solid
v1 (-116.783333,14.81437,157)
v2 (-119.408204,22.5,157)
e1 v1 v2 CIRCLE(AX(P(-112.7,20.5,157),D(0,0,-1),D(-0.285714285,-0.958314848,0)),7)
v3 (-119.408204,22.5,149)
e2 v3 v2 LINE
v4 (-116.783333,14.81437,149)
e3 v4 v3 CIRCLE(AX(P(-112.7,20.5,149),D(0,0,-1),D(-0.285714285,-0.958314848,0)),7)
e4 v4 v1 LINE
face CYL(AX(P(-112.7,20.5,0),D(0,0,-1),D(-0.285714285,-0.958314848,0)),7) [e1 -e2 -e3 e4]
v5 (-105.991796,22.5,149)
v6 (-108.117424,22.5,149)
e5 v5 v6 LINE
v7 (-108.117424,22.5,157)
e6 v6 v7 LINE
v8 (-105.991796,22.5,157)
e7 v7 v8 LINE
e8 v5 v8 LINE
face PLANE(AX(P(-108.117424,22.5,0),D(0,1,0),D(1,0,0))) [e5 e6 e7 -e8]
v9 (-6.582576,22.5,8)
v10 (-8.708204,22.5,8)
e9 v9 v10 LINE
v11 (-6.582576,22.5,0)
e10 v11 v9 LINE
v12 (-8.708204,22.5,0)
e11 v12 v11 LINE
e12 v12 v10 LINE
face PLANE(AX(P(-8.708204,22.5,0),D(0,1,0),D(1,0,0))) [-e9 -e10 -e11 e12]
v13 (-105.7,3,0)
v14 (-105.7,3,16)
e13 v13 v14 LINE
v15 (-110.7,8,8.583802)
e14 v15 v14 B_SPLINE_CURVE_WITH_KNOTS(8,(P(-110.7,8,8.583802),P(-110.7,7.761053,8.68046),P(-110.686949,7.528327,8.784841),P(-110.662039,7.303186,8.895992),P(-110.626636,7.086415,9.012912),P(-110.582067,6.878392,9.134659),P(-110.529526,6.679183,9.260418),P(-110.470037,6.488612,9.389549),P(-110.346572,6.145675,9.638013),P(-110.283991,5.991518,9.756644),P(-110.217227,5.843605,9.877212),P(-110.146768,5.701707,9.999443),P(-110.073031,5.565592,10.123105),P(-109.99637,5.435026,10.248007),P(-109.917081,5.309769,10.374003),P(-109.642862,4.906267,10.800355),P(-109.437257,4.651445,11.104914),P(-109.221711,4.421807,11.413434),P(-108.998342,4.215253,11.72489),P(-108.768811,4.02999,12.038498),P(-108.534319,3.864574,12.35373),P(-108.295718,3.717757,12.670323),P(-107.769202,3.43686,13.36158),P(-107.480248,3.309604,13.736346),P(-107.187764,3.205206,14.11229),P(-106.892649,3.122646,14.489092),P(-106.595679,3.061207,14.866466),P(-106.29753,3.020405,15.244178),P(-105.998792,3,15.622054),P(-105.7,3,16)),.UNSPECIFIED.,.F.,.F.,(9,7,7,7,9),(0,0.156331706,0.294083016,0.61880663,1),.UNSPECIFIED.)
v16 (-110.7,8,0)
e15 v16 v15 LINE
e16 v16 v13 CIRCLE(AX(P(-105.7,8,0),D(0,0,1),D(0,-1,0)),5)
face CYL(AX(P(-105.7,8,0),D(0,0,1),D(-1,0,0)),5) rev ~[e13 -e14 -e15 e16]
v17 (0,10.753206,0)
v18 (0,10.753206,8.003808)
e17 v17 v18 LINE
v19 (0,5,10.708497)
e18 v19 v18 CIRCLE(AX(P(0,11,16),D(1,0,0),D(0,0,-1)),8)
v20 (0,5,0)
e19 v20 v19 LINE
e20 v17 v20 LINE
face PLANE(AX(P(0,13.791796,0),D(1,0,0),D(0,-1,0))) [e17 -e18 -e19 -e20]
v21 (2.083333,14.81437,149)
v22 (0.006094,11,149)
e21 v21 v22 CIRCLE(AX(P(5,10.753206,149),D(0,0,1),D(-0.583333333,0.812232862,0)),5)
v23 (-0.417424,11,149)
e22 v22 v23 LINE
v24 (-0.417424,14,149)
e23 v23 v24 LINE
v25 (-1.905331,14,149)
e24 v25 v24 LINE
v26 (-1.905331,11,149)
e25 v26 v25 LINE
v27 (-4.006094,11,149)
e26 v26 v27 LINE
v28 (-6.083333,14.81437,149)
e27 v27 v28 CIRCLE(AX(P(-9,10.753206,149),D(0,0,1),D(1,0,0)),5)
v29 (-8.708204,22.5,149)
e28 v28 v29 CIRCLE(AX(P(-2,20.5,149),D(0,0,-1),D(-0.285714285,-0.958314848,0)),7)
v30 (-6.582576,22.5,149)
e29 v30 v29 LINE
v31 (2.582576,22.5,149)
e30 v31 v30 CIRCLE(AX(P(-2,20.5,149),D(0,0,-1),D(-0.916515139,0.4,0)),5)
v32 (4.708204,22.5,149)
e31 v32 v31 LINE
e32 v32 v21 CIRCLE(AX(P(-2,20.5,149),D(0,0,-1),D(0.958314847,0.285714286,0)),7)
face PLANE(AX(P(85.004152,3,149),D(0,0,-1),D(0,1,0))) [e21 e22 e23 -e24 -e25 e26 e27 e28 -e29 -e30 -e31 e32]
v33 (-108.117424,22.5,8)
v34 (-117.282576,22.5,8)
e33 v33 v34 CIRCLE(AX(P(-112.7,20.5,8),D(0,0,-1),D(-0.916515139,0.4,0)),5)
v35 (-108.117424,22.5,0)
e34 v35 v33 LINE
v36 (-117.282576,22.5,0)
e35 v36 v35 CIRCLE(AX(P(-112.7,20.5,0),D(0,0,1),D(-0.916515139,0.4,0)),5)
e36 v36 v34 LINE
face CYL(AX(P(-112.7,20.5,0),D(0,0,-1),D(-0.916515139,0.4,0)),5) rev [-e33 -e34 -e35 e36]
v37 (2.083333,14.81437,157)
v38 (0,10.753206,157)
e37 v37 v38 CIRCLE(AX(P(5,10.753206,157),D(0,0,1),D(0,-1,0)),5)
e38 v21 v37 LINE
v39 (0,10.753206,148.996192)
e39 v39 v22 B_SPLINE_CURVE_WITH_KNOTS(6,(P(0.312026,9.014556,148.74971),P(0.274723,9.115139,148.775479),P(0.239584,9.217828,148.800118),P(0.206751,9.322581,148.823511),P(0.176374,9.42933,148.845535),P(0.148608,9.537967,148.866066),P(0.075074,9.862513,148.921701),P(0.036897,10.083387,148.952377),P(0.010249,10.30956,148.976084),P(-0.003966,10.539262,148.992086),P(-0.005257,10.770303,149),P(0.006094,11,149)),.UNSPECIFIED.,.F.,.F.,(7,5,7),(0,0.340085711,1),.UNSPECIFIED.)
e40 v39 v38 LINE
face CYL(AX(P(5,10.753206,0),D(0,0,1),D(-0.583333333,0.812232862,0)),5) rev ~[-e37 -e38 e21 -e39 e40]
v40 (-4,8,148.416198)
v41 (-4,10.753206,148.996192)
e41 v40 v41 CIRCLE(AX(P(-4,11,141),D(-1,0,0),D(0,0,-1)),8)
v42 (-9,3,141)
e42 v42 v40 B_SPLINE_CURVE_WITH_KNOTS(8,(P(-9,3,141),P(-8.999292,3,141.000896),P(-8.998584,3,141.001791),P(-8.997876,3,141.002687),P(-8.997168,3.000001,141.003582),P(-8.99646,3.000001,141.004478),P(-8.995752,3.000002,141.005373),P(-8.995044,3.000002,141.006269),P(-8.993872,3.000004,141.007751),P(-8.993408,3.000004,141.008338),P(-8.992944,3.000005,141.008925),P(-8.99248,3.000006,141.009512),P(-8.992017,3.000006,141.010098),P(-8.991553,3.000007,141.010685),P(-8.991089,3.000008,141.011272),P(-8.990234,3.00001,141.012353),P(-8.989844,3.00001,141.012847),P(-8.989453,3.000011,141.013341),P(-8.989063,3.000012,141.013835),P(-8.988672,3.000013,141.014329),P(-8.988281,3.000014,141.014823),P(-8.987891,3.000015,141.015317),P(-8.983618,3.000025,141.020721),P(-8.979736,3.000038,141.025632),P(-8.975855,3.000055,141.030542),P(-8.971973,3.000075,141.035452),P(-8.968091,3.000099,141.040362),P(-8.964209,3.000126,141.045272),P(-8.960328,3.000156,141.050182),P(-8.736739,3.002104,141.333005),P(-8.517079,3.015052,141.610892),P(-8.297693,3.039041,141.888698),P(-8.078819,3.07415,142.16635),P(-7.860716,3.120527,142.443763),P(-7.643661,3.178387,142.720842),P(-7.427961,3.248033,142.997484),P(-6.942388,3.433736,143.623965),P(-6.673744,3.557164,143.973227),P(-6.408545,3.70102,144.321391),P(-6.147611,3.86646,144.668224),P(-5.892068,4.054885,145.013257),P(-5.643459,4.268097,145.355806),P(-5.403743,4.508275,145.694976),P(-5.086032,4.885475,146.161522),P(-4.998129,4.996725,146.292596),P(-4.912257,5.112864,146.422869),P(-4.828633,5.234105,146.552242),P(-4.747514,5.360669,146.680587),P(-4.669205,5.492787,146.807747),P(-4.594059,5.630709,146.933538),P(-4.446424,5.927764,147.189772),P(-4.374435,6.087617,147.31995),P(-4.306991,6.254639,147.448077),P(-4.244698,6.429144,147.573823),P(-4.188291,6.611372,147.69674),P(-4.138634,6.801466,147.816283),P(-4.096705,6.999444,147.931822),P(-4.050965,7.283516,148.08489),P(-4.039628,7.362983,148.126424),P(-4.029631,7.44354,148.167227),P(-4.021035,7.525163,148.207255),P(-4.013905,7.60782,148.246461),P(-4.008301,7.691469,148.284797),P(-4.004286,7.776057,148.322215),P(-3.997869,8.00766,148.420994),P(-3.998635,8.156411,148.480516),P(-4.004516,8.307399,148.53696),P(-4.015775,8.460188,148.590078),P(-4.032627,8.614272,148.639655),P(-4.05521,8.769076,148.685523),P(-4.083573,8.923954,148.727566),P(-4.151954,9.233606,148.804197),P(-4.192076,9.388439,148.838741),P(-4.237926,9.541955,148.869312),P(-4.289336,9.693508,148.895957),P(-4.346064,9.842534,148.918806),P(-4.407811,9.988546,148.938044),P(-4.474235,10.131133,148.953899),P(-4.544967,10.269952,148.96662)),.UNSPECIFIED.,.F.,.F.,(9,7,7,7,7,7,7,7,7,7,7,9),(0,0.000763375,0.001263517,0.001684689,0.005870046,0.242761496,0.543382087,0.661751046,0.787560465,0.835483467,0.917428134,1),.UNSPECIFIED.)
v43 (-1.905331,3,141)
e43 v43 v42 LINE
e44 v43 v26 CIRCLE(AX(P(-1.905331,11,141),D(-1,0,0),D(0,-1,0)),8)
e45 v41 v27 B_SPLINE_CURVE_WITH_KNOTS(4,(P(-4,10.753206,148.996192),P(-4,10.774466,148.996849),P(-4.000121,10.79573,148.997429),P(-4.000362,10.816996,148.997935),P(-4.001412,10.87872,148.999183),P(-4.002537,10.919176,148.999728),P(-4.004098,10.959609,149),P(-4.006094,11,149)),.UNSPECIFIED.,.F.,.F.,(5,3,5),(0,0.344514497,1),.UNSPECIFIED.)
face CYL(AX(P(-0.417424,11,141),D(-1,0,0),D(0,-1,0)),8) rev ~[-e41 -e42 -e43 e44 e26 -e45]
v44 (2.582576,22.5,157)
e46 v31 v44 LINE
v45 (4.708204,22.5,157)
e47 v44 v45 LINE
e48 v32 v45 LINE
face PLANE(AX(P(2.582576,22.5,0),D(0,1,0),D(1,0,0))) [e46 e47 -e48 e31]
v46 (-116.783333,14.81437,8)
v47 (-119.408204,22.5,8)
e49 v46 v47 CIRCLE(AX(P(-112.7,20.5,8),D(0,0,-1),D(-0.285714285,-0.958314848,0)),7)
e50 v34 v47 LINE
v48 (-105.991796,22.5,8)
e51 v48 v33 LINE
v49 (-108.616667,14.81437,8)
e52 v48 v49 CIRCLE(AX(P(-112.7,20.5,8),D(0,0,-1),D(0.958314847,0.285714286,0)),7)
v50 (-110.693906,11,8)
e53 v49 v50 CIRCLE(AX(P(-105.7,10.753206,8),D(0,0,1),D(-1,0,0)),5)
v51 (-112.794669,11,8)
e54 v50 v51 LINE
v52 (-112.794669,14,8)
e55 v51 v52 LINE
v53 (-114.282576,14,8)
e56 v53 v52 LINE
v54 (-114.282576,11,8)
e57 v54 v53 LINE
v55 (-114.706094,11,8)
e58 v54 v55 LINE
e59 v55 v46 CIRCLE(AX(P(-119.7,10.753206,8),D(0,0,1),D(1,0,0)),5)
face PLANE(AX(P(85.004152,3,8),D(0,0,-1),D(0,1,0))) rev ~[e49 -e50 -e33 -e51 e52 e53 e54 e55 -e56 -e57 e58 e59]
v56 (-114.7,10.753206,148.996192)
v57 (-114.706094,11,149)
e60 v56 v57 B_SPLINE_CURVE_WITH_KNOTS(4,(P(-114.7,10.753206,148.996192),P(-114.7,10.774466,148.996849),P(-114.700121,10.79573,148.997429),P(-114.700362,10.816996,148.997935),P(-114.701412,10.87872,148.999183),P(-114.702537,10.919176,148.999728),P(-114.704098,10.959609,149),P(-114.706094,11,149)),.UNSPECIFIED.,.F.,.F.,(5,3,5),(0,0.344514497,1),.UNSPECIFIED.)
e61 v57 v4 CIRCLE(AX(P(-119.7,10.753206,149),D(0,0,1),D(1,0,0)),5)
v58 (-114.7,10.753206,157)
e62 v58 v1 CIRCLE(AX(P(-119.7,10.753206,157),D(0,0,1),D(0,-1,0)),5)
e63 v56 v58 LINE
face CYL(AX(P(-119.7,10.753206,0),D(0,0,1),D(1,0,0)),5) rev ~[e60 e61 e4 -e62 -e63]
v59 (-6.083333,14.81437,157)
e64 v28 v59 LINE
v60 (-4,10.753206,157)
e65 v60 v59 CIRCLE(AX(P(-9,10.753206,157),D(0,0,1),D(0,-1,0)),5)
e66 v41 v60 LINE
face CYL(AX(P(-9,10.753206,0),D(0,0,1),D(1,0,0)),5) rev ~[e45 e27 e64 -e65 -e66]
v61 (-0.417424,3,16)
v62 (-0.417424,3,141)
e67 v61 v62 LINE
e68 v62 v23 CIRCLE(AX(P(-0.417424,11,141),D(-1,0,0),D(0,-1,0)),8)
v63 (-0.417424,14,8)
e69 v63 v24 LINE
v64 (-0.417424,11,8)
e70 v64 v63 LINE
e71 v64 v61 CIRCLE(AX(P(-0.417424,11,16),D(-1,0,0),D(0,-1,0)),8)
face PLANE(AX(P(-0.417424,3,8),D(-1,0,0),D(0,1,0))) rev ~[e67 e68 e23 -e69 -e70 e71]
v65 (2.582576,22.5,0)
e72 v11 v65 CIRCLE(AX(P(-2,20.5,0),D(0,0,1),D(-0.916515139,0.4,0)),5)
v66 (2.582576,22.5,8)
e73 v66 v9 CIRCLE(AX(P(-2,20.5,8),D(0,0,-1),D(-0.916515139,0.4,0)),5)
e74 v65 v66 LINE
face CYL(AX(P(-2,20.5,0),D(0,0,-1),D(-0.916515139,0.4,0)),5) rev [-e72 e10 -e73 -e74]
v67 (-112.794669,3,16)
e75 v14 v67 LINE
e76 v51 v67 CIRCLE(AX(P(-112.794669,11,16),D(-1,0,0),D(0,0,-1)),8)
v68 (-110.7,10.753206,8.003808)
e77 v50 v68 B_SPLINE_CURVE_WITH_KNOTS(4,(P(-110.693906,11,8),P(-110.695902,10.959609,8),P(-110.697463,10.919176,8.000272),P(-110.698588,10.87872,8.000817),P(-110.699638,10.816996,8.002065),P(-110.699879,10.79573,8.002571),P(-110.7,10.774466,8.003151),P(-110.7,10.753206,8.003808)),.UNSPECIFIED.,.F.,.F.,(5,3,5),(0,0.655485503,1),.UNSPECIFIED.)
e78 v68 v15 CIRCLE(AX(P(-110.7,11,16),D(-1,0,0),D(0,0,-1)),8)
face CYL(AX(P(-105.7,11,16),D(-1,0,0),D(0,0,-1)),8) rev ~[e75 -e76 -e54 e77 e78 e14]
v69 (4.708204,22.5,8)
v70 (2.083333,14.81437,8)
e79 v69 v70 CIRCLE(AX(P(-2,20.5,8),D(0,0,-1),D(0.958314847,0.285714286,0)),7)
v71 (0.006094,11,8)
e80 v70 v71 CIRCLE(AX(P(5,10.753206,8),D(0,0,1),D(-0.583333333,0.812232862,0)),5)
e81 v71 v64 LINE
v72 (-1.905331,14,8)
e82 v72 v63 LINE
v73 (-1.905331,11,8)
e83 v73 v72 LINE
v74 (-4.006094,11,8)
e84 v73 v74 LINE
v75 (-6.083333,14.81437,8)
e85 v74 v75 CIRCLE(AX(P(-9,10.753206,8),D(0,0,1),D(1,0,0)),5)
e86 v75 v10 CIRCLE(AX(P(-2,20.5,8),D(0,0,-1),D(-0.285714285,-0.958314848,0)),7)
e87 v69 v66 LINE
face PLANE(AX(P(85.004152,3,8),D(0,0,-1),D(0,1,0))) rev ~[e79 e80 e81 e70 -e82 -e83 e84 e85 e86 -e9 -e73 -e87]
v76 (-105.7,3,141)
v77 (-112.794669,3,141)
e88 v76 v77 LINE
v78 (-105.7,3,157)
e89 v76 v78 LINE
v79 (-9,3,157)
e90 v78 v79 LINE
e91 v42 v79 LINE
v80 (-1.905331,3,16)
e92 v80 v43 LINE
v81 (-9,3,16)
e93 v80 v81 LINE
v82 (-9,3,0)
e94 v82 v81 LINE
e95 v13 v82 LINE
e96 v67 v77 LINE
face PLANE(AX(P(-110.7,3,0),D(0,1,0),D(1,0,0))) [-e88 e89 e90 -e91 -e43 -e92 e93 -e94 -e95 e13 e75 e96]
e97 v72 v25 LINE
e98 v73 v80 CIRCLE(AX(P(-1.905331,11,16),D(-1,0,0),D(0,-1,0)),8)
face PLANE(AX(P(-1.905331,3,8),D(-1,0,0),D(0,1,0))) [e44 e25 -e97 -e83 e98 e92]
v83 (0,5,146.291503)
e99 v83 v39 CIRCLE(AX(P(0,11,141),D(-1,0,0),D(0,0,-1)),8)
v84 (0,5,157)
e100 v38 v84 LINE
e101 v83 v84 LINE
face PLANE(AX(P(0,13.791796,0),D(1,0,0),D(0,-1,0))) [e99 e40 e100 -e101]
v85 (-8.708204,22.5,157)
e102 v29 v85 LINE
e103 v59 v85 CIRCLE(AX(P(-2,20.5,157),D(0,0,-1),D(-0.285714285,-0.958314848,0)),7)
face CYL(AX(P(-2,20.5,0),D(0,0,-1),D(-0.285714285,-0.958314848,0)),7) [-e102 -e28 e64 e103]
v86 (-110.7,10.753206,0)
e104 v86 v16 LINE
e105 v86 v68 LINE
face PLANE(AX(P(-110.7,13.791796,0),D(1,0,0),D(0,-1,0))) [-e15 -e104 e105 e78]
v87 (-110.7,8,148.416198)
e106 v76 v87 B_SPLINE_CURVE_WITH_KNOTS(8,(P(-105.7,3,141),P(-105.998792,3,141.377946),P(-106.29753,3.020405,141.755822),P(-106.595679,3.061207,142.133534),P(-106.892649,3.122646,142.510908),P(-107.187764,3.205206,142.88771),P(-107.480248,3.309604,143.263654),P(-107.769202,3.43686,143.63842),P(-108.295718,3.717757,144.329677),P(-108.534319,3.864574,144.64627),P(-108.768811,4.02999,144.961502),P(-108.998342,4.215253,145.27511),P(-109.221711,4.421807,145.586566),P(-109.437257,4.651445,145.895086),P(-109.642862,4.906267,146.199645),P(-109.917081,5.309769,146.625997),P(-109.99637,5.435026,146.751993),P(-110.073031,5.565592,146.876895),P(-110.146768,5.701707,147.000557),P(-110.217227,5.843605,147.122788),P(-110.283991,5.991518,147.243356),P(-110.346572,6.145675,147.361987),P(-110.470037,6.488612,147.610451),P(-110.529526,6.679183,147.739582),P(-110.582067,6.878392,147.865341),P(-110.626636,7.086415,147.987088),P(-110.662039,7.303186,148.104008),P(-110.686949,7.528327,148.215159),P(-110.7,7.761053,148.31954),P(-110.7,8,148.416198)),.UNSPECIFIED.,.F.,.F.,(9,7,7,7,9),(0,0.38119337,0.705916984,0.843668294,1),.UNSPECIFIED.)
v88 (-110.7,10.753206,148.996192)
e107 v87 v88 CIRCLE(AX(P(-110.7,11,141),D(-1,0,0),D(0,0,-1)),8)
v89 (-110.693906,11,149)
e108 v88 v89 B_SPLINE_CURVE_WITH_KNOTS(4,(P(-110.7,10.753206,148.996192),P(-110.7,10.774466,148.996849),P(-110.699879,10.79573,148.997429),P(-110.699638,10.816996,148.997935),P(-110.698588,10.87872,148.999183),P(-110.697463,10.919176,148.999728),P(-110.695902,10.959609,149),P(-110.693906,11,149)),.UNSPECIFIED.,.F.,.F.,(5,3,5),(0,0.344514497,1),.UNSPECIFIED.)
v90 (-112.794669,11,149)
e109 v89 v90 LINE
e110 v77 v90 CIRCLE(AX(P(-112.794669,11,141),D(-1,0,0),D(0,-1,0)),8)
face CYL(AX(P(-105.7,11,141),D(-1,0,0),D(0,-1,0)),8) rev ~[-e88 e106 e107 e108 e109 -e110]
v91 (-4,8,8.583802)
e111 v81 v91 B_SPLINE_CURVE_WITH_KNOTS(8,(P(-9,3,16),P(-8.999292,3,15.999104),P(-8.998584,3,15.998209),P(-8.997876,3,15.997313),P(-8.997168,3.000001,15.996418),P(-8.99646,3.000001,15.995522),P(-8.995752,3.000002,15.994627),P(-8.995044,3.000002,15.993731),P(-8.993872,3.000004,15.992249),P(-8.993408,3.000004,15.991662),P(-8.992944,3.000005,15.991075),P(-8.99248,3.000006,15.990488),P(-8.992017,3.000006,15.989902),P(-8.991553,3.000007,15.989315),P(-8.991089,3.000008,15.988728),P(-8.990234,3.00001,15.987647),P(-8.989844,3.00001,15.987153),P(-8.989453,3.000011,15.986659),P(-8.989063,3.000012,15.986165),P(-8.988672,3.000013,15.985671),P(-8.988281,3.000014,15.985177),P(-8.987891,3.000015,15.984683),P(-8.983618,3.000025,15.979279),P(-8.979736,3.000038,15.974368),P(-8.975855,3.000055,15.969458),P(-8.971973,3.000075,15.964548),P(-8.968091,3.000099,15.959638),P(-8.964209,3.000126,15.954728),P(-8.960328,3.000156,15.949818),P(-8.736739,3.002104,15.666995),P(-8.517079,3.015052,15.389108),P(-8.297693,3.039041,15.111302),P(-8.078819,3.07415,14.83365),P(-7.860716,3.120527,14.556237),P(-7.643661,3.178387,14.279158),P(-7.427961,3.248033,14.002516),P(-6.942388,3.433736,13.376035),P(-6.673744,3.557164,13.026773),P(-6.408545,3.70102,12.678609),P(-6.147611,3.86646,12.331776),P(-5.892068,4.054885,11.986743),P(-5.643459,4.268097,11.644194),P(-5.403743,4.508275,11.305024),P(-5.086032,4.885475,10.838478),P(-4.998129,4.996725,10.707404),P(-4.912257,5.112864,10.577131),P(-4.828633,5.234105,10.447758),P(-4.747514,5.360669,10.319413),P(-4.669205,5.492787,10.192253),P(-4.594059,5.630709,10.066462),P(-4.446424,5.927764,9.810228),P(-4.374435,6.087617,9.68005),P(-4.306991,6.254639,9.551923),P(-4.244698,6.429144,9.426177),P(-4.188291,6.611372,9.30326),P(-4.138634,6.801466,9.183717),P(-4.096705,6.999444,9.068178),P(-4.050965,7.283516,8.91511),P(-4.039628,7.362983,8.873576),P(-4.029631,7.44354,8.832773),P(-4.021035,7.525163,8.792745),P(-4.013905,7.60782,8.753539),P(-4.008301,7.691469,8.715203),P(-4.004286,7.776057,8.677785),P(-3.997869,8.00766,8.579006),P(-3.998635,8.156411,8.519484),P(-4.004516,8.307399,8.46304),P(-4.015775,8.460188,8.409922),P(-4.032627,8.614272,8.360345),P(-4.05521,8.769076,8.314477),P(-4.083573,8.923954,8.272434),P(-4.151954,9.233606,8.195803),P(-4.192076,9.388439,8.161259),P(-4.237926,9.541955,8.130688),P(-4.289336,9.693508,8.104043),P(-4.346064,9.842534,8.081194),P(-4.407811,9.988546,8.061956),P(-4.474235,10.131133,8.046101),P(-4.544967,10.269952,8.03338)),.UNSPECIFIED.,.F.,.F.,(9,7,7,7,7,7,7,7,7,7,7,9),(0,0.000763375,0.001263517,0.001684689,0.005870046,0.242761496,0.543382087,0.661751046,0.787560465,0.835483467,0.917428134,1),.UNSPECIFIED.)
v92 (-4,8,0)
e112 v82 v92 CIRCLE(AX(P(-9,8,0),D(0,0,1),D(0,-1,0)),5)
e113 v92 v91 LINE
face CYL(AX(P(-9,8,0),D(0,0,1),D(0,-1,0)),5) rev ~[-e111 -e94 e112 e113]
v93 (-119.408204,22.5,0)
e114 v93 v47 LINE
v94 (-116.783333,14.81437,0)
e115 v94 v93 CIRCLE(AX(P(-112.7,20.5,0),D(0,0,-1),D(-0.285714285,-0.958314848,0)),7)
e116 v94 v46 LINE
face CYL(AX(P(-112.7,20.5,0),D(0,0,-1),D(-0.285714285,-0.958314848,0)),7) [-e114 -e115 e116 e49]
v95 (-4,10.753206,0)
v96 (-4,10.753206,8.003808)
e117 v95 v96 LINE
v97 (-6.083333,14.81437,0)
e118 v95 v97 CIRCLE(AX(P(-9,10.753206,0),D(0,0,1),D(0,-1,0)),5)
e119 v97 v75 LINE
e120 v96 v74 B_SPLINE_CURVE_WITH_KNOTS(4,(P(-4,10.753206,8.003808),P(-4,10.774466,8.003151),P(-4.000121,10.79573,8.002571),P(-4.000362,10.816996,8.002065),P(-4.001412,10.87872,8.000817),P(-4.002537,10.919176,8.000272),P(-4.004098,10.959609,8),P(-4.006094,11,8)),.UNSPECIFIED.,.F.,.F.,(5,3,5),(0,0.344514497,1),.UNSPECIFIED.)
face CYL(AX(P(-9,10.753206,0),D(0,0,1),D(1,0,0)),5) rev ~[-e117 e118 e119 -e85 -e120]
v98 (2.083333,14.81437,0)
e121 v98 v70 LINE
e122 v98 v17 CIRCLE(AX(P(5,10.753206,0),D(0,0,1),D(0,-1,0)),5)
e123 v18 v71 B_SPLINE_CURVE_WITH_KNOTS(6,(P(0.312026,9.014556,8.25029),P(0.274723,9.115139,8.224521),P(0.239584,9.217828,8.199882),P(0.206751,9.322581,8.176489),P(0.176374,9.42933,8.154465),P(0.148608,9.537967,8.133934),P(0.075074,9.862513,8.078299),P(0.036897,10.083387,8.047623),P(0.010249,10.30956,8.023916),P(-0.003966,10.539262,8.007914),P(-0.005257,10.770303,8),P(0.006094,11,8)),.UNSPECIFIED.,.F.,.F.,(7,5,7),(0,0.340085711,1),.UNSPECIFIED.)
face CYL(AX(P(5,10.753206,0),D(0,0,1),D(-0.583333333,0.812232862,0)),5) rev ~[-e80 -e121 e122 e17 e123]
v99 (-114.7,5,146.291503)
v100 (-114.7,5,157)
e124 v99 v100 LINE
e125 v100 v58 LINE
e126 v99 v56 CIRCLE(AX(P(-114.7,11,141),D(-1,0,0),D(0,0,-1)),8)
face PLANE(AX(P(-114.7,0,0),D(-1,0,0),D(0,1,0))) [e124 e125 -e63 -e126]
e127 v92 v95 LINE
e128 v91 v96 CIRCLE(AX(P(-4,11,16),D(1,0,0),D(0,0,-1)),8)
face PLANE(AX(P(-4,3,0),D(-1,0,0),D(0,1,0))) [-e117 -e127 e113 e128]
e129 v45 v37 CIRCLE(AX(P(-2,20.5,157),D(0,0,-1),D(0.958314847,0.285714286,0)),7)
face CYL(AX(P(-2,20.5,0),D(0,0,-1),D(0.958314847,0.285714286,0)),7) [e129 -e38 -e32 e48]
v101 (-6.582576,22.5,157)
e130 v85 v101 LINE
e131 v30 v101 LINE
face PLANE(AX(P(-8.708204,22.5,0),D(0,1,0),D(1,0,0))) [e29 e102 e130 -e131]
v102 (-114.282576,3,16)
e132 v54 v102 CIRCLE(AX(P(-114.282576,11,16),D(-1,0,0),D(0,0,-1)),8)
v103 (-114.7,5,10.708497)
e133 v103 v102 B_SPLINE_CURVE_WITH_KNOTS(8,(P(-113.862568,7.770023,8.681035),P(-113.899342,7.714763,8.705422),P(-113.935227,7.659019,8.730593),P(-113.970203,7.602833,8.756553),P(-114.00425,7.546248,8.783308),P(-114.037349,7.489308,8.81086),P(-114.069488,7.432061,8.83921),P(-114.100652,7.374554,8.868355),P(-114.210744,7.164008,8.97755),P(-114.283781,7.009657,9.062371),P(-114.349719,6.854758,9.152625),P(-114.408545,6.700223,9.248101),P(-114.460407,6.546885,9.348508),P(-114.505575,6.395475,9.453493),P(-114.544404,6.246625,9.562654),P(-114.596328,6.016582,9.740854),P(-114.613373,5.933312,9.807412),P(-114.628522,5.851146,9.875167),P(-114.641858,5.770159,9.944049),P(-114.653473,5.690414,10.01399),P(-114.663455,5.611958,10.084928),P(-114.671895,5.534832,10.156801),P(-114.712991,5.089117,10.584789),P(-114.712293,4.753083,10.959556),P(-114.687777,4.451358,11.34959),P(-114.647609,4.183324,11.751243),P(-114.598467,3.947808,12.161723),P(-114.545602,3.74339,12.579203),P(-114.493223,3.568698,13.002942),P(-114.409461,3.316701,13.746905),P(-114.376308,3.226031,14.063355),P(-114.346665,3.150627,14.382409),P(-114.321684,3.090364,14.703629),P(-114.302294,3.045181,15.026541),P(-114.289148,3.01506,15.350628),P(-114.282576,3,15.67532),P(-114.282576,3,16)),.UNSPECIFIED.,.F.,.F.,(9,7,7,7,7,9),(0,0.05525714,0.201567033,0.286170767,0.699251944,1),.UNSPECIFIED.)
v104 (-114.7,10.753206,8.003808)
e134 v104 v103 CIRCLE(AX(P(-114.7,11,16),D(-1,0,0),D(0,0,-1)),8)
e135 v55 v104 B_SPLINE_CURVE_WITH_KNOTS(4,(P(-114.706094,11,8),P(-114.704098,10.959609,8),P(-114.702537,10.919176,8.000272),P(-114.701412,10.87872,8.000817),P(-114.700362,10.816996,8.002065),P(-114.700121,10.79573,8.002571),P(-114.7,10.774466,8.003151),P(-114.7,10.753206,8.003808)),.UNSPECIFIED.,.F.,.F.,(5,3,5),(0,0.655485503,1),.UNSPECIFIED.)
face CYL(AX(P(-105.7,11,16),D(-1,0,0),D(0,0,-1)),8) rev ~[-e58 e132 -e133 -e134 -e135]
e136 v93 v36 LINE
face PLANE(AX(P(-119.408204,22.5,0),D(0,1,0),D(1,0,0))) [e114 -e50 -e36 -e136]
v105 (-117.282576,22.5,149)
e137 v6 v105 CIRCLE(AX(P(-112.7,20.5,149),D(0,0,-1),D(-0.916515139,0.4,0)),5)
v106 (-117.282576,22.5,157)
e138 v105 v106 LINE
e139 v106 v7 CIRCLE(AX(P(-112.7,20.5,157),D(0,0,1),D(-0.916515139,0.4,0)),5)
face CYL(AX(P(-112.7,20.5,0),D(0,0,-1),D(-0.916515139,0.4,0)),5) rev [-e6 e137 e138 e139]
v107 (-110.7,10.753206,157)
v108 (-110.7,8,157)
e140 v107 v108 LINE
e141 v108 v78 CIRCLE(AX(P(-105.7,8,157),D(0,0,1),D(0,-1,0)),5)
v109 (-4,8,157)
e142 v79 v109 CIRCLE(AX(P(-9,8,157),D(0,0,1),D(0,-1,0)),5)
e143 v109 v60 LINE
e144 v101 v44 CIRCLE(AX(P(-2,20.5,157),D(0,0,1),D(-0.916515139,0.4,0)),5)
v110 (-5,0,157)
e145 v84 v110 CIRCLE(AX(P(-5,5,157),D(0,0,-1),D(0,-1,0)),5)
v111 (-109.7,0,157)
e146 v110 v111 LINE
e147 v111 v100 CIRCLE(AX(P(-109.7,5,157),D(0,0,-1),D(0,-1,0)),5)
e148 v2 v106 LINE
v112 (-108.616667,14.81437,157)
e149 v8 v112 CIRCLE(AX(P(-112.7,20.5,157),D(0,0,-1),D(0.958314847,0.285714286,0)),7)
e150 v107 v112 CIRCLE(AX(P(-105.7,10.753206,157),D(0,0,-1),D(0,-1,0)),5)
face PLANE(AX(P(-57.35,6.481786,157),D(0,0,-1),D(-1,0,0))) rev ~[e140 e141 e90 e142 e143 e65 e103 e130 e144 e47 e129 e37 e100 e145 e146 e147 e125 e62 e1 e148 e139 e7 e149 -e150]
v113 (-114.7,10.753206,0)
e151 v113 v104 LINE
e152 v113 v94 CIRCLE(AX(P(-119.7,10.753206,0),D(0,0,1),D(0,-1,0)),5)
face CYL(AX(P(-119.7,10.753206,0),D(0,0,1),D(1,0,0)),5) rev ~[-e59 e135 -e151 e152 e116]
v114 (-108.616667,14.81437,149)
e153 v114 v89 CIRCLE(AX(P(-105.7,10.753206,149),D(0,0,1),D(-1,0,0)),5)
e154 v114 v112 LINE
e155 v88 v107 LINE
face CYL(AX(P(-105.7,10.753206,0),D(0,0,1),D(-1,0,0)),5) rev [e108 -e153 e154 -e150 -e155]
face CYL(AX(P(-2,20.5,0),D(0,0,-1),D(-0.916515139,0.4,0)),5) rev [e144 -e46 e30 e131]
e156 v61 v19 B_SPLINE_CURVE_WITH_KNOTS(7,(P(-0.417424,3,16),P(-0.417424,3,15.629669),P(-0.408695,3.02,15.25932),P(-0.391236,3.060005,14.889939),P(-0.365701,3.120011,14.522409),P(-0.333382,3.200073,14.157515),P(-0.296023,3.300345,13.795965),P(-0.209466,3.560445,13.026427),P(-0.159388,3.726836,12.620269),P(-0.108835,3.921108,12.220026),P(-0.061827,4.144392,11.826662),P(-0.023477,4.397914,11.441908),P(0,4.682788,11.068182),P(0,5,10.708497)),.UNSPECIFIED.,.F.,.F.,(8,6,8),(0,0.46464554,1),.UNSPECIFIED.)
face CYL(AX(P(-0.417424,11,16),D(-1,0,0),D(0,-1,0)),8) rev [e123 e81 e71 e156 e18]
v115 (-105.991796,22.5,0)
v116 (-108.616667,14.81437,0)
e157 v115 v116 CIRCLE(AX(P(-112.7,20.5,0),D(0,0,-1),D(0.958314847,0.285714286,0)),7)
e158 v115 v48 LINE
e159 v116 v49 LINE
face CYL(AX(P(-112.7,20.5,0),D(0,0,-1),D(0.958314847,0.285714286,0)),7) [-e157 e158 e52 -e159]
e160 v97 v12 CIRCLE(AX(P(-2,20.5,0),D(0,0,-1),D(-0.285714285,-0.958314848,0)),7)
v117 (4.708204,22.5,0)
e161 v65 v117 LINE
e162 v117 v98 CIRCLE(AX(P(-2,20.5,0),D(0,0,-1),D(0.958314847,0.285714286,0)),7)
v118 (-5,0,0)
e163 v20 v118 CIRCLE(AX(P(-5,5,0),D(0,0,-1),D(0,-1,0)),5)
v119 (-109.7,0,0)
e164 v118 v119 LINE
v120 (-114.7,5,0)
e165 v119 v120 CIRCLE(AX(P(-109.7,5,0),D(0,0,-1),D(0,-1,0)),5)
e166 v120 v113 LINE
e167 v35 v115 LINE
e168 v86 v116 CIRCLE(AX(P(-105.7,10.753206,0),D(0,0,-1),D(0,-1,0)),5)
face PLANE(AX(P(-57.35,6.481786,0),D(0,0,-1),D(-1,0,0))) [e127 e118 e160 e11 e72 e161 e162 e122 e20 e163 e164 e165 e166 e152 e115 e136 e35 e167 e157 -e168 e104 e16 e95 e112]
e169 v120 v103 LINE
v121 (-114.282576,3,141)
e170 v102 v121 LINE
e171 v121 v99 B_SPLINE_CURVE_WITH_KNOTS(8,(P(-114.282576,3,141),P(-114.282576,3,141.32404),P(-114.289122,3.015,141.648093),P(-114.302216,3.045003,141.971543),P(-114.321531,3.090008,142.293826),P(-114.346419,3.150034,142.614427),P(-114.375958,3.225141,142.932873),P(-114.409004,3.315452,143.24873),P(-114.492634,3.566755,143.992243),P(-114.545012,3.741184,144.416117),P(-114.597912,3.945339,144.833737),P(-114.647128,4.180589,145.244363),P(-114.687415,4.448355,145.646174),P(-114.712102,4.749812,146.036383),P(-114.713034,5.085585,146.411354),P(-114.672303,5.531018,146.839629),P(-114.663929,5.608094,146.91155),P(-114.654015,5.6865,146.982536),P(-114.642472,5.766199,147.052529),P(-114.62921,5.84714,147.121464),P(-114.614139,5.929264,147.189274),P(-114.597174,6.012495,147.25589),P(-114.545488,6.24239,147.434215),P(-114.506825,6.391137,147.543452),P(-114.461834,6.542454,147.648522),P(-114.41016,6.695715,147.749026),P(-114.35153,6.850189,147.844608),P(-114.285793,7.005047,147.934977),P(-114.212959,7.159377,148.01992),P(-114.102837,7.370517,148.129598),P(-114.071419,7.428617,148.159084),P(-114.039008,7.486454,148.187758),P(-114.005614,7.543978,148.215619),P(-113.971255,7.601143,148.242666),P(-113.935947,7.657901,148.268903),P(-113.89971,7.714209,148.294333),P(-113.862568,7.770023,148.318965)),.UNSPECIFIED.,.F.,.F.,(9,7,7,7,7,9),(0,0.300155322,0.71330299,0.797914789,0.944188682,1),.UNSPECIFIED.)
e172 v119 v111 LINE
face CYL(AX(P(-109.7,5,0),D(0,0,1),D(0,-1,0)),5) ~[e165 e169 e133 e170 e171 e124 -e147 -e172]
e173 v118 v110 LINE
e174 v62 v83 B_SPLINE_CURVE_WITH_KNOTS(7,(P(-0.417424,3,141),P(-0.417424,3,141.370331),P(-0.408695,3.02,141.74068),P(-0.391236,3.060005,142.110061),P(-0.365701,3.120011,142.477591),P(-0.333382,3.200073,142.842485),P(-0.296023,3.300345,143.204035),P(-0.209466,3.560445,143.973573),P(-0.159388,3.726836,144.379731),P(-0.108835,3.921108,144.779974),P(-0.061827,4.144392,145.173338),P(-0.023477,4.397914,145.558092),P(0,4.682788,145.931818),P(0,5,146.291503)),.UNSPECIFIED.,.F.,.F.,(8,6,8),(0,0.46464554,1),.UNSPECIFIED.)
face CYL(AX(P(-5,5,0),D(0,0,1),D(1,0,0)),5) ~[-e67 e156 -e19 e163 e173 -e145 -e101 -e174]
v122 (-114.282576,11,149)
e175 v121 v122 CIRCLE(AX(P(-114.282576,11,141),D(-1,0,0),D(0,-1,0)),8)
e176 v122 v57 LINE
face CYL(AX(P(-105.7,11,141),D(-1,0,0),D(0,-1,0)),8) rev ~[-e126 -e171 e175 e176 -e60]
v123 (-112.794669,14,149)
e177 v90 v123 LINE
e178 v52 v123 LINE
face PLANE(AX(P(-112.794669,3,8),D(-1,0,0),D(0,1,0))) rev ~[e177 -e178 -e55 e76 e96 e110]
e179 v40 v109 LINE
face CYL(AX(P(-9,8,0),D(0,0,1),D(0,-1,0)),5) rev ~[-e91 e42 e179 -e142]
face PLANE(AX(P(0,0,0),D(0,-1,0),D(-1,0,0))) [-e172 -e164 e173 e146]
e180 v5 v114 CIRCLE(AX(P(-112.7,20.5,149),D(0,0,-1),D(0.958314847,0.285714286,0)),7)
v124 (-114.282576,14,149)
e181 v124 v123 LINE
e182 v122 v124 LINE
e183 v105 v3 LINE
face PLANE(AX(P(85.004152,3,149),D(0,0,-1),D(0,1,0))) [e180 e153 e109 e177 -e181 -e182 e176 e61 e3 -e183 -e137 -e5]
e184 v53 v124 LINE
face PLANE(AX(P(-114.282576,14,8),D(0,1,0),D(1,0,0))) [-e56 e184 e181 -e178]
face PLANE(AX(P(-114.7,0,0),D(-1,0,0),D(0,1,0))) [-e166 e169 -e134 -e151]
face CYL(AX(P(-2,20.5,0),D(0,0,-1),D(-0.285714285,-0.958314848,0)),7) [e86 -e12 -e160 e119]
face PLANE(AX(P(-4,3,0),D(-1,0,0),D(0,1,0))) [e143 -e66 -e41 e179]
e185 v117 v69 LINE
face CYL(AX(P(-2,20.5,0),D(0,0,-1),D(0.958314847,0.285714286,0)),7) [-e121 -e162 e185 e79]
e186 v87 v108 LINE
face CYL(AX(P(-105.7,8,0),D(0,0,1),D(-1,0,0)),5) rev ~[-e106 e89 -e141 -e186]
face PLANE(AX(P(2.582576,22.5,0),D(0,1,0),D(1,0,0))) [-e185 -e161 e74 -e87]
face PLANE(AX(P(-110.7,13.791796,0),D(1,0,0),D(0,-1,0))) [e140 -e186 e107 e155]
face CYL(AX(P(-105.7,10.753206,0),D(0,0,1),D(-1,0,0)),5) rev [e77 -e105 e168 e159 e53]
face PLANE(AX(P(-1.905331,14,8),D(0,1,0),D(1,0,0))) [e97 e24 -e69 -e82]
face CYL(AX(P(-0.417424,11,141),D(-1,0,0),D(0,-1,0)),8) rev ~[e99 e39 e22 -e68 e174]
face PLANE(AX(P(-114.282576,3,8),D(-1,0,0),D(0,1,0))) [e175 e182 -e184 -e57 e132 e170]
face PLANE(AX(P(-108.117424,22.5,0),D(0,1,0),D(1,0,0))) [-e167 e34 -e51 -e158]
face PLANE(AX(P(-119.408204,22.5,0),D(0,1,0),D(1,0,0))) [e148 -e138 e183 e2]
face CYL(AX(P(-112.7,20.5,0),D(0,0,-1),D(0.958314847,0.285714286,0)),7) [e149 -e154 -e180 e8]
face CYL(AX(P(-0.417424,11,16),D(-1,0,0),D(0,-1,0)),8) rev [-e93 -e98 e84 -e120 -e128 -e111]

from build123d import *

# Parameters (mm, degrees)
BOSS_EXTRUDE1_DEPTH     = 157
FILLET1_R               = 5
CUT_EXTRUDE1_DEPTH      = 199.704151945
CUT_EXTRUDE1_DEPTH_BACK = 199.704151945
SKETCH2_W               = 141
SKETCH2_H               = 19.5
FILLET5_R               = 8
SKETCH4_W               = 1.487907189
SKETCH4_H               = 11
BOSS_EXTRUDE5_DEPTH     = 141


with BuildPart() as part:
    # Sketch1 → Boss-Extrude1 (new body)
    with BuildSketch(Plane.XY):
        with BuildLine():
            Line((-110.7, 13.791796068), (-110.7, 3))
            Line((-110.7, 3), (-4, 3))
            Line((-4, 3), (-4, 13.791796068))
            ThreePointArc((-4, 13.791796068), (-8.157630053, 17.170797072), (-8.708203932, 22.5))
            Line((-8.708203932, 22.5), (-6.582575695, 22.5))
            ThreePointArc((-6.582575695, 22.5), (-2, 15.5), (2.582575695, 22.5))
            Line((2.582575695, 22.5), (4.708203932, 22.5))
            ThreePointArc((4.708203932, 22.5), (4.157630053, 17.170797072), (0, 13.791796068))
            Line((0, 13.791796068), (0, 2))
            Line((0, 2), (0, 0))
            Line((0, 0), (-114.7, 0))
            Line((-114.7, 0), (-114.7, 2))
            Line((-114.7, 2), (-114.7, 13.791796068))
            ThreePointArc((-114.7, 13.791796068), (-118.857630053, 17.170797072), (-119.408203932, 22.5))
            Line((-119.408203932, 22.5), (-117.282575695, 22.5))
            ThreePointArc((-117.282575695, 22.5), (-112.7, 15.5), (-108.117424305, 22.5))
            Line((-108.117424305, 22.5), (-105.991796068, 22.5))
            ThreePointArc((-105.991796068, 22.5), (-106.542369947, 17.170797072), (-110.7, 13.791796068))
        make_face()
    extrude(amount=BOSS_EXTRUDE1_DEPTH)

    # Fillet1
    fillet1_edges = [part.edges().sort_by_distance(p)[0] for p in [
        (-110.7, 3, 78.5),
        (-4, 3, 78.5),
        (-4, 13.791796068, 78.5),
        (0, 13.791796068, 78.5),
        (0, 0, 78.5),
        (-114.7, 0, 78.5),
        (-114.7, 13.791796068, 78.5),
        (-110.7, 13.791796068, 78.5),
    ]]
    fillet(fillet1_edges, radius=FILLET1_R)

    # Sketch2 → Cut-Extrude1 (cut, two sides: drawn at the far end of the back side and taken through both)
    with BuildSketch(Plane.ZY.offset(114.7).offset(-CUT_EXTRUDE1_DEPTH_BACK)):
        with Locations((78.5, 12.75)):
            Rectangle(SKETCH2_W, SKETCH2_H)
    extrude(amount=CUT_EXTRUDE1_DEPTH + CUT_EXTRUDE1_DEPTH_BACK, mode=Mode.SUBTRACT)

    # Fillet5
    fillet5_edges = [part.edges().sort_by_distance(p)[0] for p in [
        (-4.708712153, 3, 8),
        (-4.708712153, 3, 149),
        (-109.991287847, 3, 149),
        (-109.991287847, 3, 8),
    ]]
    fillet(fillet5_edges, radius=FILLET5_R)

    # Sketch4 → Boss-Extrude5 (add)
    with BuildSketch(Plane.XY.offset(8)):
        with Locations((-113.538622101, 8.5)):
            Rectangle(SKETCH4_W, SKETCH4_H)
        with Locations((-1.1613779, 8.5)):
            Rectangle(SKETCH4_W, SKETCH4_H)
    extrude(amount=BOSS_EXTRUDE5_DEPTH)


solid = part.part
